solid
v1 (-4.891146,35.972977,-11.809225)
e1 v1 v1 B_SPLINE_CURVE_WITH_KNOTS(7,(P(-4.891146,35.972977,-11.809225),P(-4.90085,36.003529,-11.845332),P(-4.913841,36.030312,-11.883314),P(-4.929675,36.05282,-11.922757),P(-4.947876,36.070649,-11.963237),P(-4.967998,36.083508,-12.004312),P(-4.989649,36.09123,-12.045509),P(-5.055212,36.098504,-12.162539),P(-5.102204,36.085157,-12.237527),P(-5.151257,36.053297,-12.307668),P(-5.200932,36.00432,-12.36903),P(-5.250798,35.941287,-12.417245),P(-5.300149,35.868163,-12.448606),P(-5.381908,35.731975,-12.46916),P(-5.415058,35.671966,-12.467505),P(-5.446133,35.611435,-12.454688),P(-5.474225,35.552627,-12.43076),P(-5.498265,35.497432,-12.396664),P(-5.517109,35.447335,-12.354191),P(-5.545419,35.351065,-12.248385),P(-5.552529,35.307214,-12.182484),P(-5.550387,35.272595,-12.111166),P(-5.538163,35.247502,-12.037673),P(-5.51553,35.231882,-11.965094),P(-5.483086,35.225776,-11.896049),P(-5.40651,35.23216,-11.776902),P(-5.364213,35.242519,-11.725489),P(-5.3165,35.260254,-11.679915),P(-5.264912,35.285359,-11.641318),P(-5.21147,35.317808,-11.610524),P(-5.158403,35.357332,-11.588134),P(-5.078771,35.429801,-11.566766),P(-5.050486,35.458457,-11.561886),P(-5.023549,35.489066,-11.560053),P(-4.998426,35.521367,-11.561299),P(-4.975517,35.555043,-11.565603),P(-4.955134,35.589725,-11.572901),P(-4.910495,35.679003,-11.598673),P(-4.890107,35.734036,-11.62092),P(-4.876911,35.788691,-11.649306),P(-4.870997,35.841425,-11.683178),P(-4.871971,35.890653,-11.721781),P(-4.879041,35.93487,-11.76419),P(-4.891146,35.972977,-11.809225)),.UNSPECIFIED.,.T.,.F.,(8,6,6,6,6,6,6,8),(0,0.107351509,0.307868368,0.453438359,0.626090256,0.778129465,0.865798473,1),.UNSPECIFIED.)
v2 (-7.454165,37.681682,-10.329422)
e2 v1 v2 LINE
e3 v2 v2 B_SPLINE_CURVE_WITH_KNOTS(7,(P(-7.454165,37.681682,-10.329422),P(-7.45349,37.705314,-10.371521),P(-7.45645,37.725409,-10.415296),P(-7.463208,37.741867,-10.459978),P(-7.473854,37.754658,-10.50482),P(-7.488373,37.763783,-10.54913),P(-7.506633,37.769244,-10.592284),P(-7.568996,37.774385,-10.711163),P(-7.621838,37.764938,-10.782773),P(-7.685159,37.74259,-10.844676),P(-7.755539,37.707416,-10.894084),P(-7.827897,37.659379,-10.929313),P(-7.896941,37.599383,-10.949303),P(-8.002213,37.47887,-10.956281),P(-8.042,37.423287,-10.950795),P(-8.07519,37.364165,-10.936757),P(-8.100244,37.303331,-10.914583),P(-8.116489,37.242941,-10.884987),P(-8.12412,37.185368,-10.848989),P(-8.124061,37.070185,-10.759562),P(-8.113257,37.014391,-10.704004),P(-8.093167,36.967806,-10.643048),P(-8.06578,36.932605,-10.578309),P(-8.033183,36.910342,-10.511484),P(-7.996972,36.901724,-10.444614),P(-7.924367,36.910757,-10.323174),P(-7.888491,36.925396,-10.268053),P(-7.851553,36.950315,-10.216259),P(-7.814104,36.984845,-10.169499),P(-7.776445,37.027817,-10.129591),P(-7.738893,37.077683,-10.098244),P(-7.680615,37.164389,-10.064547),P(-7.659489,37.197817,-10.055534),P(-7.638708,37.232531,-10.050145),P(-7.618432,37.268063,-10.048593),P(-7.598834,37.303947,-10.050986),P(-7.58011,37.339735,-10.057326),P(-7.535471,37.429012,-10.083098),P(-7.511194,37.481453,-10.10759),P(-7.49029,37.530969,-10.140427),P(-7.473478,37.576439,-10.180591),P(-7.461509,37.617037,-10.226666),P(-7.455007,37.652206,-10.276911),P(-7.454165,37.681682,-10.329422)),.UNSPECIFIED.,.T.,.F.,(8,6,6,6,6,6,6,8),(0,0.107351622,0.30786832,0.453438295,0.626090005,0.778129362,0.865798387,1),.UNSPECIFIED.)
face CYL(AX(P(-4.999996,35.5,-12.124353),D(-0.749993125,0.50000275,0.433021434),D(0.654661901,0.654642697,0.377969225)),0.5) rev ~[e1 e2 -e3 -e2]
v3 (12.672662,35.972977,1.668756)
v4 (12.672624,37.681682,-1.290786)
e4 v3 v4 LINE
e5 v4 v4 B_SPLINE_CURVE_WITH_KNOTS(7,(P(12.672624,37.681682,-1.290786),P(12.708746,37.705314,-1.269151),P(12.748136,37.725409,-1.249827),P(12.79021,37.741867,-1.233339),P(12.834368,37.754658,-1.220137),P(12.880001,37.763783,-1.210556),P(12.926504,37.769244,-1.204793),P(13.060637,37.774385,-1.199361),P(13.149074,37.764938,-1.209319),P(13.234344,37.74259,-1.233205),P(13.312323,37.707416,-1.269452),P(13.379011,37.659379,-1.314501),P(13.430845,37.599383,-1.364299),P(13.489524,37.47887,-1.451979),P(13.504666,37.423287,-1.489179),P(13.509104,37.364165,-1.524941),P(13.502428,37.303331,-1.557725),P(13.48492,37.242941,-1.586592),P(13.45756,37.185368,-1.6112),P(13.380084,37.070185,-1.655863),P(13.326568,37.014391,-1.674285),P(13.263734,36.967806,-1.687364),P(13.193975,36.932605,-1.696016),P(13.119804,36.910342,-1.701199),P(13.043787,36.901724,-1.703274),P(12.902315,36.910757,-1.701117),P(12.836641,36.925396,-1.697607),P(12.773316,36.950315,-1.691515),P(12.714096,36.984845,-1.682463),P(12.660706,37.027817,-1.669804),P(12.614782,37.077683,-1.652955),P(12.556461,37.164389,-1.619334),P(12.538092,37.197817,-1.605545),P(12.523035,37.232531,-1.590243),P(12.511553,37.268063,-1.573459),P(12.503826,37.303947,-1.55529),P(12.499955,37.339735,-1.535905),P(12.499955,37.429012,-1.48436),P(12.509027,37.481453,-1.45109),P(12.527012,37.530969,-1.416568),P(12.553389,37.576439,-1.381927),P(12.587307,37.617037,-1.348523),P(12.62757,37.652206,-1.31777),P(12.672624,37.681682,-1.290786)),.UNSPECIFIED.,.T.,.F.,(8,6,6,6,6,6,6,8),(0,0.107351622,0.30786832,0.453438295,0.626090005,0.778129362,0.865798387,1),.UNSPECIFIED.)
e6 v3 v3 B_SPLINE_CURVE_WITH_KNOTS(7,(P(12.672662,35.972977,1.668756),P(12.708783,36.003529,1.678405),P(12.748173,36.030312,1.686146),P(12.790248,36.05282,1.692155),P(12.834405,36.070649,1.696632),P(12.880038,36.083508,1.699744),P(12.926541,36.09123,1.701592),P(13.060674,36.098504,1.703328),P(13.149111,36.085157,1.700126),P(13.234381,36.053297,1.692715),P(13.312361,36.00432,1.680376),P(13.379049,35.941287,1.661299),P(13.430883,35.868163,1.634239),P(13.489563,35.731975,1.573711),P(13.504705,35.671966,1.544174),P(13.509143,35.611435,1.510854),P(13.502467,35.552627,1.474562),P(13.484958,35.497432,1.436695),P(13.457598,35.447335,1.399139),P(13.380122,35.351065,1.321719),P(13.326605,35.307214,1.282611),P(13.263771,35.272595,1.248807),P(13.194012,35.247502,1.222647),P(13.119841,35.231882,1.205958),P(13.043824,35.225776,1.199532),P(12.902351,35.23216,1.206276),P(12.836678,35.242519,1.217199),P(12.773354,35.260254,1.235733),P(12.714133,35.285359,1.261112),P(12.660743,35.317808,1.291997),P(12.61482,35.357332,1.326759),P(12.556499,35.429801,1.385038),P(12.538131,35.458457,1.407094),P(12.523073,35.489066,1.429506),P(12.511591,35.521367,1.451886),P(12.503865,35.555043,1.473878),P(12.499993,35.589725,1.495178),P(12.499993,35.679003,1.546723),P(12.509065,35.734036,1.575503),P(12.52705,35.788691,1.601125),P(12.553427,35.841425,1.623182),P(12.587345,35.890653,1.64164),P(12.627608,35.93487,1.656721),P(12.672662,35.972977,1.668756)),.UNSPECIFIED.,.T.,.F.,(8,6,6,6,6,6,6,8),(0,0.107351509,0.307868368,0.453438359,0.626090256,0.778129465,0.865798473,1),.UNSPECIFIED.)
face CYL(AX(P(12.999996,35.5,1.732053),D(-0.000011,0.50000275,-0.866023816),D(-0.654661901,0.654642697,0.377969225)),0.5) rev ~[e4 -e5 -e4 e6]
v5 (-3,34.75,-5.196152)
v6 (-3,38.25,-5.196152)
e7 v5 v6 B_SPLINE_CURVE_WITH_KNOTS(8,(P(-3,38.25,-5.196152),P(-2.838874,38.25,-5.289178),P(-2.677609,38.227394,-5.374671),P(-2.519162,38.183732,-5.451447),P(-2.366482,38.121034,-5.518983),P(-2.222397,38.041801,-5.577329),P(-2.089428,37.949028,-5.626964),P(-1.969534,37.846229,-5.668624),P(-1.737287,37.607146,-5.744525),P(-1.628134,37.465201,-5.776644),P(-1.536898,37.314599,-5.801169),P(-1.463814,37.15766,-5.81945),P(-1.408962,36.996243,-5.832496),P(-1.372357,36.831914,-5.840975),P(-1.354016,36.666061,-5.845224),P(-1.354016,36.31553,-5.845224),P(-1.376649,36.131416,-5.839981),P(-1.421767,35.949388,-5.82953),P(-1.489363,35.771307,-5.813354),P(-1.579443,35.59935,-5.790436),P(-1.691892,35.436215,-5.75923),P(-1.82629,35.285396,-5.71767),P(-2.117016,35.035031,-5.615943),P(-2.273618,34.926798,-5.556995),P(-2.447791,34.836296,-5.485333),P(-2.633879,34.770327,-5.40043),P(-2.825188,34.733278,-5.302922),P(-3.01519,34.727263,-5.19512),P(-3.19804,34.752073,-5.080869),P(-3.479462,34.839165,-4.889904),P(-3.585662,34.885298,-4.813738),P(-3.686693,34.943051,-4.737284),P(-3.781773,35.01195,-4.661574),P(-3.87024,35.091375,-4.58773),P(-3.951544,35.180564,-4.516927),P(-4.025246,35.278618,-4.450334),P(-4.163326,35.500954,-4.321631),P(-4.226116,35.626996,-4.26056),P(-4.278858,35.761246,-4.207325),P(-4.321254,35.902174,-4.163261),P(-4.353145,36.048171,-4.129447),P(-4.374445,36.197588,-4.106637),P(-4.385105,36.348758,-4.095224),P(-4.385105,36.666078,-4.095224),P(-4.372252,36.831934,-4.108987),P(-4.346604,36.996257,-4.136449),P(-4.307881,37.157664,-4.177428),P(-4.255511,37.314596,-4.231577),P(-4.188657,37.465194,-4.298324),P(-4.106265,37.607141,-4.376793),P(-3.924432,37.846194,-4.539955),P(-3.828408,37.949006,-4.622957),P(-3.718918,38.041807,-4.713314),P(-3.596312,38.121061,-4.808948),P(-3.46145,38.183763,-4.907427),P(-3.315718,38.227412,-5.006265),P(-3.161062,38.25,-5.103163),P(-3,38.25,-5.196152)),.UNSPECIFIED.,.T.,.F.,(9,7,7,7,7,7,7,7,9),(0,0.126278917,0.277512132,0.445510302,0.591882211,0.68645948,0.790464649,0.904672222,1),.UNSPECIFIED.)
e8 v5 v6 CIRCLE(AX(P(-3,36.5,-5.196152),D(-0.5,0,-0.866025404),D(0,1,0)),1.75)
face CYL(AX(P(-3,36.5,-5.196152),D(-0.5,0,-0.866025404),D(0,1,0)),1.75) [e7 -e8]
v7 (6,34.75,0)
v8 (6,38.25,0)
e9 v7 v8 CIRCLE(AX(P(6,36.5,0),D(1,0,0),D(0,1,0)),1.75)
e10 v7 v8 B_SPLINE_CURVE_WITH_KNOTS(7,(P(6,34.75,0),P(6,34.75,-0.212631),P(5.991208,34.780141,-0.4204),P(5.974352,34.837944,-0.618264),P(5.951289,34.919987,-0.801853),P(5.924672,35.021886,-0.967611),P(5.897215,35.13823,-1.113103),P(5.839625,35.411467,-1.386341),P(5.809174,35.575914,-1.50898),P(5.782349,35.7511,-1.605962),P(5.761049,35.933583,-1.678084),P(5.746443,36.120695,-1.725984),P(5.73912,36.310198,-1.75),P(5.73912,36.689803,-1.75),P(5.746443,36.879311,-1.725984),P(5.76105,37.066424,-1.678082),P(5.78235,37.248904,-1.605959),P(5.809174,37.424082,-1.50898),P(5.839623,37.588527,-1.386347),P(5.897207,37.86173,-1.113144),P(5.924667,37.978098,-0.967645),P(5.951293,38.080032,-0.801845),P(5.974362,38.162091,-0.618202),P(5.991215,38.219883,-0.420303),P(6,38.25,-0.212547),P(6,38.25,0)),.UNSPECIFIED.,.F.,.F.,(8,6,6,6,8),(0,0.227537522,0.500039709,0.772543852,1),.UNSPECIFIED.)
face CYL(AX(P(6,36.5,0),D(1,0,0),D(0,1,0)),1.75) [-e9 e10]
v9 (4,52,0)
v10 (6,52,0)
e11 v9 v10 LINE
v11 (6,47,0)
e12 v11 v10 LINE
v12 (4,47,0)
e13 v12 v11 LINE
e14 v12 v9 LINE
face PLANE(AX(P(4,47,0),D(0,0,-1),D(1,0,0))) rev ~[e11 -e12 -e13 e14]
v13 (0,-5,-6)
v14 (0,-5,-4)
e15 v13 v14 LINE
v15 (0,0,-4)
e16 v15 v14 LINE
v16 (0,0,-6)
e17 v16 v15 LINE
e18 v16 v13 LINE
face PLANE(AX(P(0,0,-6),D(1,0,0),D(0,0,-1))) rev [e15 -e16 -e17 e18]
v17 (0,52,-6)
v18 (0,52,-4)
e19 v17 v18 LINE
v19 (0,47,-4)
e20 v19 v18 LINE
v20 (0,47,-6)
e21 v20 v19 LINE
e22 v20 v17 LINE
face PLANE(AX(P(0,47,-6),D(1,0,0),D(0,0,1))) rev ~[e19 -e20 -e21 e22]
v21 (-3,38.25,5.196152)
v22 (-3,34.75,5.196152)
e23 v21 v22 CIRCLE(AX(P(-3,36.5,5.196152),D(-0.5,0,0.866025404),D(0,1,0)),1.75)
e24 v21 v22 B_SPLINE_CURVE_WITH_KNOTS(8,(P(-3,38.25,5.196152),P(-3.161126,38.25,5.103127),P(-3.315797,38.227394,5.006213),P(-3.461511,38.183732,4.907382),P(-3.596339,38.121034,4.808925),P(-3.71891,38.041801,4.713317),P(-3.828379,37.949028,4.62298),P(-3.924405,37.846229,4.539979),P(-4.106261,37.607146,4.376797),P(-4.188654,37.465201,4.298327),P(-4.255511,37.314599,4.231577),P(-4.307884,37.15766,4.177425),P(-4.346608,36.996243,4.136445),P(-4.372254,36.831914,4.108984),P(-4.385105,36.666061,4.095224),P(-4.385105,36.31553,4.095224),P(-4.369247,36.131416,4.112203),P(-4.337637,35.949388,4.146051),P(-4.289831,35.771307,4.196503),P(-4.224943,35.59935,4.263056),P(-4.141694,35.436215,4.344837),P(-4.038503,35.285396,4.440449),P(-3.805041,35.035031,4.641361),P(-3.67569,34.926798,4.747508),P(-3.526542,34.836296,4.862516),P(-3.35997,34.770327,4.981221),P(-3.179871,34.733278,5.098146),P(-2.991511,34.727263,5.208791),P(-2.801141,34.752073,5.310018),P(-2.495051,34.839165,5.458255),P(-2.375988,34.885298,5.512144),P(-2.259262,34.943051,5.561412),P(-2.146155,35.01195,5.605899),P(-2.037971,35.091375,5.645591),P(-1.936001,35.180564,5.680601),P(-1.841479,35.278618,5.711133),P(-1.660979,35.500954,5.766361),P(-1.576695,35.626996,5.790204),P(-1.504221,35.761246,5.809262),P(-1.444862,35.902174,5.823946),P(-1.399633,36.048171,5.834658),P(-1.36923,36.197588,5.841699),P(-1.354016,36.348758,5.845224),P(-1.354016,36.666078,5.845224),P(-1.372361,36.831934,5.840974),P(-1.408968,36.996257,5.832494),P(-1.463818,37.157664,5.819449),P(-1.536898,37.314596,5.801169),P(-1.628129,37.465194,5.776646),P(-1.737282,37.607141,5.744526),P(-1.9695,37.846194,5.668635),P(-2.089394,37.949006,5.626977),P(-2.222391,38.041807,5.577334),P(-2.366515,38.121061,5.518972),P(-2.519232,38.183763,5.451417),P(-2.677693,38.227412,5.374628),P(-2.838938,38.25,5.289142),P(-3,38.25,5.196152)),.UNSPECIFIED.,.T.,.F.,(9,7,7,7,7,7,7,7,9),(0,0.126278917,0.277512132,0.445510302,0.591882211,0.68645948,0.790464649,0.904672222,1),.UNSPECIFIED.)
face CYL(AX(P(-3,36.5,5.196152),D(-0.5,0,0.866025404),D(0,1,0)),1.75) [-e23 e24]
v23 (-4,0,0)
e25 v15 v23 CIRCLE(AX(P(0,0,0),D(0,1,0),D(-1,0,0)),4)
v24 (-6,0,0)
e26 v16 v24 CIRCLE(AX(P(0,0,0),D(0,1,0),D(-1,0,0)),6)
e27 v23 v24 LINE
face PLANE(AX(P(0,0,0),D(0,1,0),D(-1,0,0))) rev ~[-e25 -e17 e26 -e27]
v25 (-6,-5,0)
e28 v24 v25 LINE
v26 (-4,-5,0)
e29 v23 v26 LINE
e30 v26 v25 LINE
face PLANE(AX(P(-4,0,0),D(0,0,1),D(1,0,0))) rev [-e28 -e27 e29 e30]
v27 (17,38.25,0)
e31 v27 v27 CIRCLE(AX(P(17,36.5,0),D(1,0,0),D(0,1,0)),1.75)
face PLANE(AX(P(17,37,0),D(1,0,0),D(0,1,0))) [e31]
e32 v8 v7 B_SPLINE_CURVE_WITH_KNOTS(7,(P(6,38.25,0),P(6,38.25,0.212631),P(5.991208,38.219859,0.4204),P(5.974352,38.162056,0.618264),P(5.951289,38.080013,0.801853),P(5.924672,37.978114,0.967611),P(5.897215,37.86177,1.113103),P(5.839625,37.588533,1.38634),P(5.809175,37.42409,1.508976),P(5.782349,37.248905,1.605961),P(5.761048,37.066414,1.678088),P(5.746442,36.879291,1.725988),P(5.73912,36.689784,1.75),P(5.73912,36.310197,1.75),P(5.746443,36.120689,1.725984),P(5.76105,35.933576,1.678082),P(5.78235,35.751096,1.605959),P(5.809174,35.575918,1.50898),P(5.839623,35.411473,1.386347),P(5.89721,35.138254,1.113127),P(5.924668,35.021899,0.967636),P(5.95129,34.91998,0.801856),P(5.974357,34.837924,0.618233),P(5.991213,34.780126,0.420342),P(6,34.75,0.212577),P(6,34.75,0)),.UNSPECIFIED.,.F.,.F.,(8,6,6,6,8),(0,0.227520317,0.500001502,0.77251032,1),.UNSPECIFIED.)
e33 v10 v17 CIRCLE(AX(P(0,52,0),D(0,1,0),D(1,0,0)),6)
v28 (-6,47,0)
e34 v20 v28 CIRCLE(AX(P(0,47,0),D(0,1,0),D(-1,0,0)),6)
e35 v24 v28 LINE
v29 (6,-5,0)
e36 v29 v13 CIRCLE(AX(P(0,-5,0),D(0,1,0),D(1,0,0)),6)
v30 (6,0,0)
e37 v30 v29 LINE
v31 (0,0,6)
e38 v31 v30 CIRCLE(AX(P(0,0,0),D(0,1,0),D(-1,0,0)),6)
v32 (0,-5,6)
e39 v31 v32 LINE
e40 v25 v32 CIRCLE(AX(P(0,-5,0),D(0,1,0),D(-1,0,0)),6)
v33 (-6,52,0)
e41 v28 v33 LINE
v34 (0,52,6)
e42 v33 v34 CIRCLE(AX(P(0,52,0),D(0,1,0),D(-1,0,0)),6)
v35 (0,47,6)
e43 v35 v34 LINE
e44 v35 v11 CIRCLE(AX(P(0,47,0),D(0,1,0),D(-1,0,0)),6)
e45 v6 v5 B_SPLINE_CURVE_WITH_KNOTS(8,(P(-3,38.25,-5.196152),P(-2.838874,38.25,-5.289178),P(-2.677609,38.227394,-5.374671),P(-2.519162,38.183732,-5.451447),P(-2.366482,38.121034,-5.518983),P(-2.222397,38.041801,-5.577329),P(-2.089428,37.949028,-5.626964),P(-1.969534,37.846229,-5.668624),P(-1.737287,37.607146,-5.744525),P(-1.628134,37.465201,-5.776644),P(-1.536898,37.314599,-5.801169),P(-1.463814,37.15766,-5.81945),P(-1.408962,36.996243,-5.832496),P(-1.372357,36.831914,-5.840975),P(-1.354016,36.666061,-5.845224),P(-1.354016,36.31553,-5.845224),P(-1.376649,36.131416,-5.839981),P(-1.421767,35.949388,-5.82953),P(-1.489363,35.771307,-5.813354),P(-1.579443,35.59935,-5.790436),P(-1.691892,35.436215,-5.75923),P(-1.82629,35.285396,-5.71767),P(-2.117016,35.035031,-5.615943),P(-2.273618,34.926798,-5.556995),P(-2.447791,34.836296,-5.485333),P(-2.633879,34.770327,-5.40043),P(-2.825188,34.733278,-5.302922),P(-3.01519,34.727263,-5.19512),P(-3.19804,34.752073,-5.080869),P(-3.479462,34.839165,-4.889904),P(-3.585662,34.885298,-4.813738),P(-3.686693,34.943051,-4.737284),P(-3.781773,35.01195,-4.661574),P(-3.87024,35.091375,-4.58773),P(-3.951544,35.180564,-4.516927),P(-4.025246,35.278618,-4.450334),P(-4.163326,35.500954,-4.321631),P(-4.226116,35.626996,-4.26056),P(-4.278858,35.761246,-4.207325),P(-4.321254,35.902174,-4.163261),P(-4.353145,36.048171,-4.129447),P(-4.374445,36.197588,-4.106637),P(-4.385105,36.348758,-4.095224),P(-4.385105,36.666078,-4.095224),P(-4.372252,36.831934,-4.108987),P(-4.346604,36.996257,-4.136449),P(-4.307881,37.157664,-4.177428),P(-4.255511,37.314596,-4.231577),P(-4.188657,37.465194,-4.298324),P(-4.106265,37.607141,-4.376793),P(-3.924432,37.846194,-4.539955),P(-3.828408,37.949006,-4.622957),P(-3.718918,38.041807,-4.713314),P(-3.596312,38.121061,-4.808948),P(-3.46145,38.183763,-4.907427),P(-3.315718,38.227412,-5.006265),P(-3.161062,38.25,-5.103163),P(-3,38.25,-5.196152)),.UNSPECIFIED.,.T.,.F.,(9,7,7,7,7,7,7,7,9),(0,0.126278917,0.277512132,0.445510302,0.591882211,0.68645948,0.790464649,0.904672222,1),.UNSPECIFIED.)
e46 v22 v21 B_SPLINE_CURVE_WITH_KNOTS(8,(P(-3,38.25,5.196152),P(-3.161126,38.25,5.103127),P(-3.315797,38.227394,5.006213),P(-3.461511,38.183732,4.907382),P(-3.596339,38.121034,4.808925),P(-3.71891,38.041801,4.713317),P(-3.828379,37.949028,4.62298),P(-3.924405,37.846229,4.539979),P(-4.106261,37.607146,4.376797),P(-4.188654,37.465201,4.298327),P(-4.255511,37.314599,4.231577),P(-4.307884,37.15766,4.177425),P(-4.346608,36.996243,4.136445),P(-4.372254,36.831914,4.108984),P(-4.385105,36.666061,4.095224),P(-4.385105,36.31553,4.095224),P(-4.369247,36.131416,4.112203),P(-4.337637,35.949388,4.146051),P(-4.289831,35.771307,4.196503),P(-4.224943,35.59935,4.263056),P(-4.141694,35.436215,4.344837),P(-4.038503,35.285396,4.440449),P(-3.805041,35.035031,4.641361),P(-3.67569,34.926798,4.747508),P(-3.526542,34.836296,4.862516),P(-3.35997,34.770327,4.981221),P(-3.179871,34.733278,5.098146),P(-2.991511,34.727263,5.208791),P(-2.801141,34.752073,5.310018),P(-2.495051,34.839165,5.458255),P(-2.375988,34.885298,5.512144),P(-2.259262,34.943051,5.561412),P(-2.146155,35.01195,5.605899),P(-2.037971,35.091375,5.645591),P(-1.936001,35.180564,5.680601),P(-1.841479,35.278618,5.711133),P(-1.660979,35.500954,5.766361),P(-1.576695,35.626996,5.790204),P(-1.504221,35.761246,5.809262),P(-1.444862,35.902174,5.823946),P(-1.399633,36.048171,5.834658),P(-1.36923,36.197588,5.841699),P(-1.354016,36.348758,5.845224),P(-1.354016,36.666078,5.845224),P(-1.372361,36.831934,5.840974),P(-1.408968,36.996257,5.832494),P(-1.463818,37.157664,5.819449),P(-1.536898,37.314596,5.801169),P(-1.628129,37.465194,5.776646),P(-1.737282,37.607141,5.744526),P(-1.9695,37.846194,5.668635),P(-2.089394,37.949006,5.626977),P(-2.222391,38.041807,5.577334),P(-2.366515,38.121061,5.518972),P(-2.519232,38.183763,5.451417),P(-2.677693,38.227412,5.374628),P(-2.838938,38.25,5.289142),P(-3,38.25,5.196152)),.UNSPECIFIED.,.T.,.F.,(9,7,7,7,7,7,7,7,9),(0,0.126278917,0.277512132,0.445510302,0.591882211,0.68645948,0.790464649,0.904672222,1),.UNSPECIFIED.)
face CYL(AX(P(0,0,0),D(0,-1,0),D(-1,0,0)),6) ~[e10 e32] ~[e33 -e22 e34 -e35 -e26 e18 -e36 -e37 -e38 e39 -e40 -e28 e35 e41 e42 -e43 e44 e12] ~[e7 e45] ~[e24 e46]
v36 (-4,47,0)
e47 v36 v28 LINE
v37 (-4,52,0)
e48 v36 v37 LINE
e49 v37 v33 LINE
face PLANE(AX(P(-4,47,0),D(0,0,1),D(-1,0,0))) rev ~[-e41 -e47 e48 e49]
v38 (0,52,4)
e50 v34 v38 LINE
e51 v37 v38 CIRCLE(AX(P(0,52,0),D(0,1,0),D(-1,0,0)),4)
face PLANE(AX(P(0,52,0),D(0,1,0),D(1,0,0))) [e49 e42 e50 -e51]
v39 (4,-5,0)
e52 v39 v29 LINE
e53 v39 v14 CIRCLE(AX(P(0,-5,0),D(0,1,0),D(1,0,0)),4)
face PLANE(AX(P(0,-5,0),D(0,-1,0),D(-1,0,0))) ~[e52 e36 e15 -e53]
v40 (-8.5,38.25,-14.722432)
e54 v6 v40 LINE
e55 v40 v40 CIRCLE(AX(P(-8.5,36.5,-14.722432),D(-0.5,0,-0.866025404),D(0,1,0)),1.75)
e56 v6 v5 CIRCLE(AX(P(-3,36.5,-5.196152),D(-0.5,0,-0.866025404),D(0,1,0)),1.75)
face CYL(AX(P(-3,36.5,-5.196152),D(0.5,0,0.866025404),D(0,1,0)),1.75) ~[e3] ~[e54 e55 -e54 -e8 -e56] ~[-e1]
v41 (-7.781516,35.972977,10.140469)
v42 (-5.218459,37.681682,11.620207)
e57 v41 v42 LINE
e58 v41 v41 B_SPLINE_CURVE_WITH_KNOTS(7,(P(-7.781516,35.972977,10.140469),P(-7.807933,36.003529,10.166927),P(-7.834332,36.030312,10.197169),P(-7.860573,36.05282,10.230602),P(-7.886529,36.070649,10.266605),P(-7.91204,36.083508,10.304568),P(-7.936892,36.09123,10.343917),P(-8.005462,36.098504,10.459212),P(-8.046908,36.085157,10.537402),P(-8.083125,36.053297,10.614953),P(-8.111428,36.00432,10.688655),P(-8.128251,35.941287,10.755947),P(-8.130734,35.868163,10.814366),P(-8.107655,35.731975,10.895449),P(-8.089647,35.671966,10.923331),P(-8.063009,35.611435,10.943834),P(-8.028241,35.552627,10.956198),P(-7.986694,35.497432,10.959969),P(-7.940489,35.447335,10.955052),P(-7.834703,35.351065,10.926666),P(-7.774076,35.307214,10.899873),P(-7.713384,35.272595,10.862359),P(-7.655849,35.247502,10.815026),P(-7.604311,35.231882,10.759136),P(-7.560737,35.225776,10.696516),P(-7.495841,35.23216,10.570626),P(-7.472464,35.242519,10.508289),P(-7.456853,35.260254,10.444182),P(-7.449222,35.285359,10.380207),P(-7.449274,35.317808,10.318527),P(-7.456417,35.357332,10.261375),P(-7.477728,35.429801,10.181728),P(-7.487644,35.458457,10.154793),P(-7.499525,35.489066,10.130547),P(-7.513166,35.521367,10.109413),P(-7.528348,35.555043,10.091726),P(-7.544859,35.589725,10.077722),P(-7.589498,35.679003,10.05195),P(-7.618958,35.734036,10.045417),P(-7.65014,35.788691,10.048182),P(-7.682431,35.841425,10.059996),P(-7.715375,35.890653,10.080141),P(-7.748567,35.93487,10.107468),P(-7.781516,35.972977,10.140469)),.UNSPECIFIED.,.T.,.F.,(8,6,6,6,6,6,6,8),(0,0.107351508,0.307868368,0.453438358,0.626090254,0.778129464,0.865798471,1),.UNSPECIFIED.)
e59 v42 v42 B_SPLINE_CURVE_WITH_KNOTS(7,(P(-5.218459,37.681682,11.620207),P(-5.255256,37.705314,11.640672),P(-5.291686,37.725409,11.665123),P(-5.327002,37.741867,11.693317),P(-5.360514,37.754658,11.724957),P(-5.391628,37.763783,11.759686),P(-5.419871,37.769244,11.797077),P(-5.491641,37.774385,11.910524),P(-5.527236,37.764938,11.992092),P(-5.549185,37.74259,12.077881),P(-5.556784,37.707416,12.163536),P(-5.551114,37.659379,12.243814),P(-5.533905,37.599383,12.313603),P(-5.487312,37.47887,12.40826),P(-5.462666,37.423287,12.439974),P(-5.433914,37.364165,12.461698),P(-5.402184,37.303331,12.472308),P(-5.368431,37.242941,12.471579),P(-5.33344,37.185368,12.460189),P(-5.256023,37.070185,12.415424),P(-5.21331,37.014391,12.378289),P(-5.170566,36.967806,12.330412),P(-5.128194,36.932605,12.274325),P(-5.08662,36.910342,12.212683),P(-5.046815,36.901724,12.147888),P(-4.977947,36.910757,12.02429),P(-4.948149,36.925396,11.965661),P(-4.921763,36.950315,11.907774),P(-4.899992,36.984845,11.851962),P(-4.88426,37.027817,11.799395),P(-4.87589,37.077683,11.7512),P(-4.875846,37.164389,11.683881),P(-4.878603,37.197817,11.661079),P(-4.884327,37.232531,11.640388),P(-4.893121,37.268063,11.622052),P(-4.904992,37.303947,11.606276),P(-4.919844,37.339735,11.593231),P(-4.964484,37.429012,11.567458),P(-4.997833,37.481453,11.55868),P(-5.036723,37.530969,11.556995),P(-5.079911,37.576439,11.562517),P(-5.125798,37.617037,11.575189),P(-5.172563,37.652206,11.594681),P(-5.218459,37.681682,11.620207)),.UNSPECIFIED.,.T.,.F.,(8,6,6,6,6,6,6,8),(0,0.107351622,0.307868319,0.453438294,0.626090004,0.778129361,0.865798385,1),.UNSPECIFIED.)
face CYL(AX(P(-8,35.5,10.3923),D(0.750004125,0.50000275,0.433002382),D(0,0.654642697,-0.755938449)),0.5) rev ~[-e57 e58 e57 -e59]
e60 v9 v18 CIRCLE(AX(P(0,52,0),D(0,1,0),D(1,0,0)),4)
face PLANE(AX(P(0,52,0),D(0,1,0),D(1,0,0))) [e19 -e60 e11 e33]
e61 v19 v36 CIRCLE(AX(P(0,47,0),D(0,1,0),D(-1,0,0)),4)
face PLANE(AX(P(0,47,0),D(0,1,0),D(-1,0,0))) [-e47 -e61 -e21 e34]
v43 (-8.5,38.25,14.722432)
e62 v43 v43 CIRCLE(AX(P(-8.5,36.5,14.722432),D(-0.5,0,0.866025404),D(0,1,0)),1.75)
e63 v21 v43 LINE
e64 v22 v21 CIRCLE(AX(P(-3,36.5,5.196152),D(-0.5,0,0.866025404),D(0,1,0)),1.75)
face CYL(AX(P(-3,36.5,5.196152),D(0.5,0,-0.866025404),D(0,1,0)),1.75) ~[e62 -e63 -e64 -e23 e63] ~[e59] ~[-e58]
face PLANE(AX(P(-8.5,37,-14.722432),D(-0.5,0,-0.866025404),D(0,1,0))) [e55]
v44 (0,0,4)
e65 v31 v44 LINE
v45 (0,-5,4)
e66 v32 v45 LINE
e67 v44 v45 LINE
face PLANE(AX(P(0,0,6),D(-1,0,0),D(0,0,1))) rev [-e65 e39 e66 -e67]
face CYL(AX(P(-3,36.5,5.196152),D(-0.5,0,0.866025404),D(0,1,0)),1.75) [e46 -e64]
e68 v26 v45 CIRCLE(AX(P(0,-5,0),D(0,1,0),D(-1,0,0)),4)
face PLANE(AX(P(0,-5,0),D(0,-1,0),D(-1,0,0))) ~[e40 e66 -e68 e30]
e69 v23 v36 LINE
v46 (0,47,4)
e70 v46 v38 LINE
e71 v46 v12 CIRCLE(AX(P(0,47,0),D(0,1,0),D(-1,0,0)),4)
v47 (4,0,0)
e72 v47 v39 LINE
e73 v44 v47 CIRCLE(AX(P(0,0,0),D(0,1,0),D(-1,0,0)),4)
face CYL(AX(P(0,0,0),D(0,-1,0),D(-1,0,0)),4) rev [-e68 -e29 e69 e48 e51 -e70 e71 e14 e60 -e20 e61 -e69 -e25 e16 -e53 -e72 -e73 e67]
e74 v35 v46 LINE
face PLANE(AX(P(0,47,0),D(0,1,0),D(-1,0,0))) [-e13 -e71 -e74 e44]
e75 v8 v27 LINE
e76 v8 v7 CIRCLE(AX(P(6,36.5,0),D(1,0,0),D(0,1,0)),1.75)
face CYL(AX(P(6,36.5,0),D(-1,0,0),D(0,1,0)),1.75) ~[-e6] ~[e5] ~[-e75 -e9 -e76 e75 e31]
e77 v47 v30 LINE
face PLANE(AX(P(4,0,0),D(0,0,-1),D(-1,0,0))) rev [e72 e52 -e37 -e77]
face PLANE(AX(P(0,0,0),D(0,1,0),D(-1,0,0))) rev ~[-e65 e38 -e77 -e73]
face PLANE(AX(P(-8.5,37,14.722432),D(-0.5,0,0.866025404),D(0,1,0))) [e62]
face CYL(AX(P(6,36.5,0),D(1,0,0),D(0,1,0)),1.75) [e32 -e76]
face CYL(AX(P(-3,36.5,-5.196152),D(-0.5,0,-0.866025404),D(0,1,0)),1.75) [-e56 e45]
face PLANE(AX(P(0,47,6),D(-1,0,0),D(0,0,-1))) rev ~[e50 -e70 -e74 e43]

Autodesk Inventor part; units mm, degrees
sketch "Sketch1" plane through (0, 0, 0) normal (0, 1, 0) x (-1, 0, 0)
  circle A0 centre (0, 0) radius 4
  circle A1 centre (0, 0) radius 6
  dimension "d0" = 8
  dimension "d1" = 12
extrude "Extrusion1" add sketch "Sketch1" along normal blind 47
sketch "Sketch2" plane through (0, 47, 0) normal (0, 1, 0) x (1, 0, 0)
  circle A0 centre (0, 0) radius 6 construction
  arc A1 (-6, 0) -> (0, -6) centre (0, 0) ccw
  circle A2 centre (0, 0) radius 4 construction
  arc A3 (-4, 0) -> (0, -4) centre (0, 0) ccw
  line L0 (0, -6) -> (0, -4)
  line L1 (-4, 0) -> (-6, 0)
  line L2 (4, 0) -> (6, 0)
  arc A4 (6, 0) -> (0, 6) centre (0, 0) ccw
  arc A5 (4, 0) -> (0, 4) centre (0, 0) ccw
  line L3 (0, 6) -> (0, 4)
  dimension "d6" = 360
extrude "Extrusion2" add sketch "Sketch2" along normal blind 5
ref_plane "Work Plane5" through (0, 37, 0) normal (0, -1, 0) x (1, 0, 0)
ref_plane "Work Plane1" through (0, 23.5, 0) normal (0, 1, 0) x (1, 0, 0)
mirror "Mirror1" about plane through (0, 23.5, 0) normal (0, 1, 0) of "Extrusion2"
sketch "Sketch3" plane through (0, 37, 0) normal (0, -1, 0) x (1, 0, 0)
  arc A0 (-6, 0) -> (0, -6) centre (0, 0) ccw construction
  line L0 (0, -6) -> (0, -4) construction
  arc A1 (-4, 0) -> (0, -4) centre (0, 0) ccw construction
  line L1 (-4, 0) -> (-6, 0) construction
  line L2 (-6, 0) -> (-4, 0) construction
  arc A2 (0, 4) -> (-4, 0) centre (0, 0) ccw construction
  line L3 (0, 4) -> (0, 6) construction
  arc A3 (0, 6) -> (-6, 0) centre (0, 0) ccw construction
  arc A4 (4, 0) -> (0, 4) centre (0, 0) ccw construction
  line L4 (4, 0) -> (6, 0) construction
  arc A5 (6, 0) -> (0, 6) centre (0, 0) ccw construction
  line L5 (0, 6) -> (0, 4) construction
  line L6 (0, -4) -> (0, -6) construction
  arc A6 (0, -6) -> (6, 0) centre (0, 0) ccw construction
  line L7 (6, 0) -> (4, 0) construction
  arc A7 (0, -4) -> (4, 0) centre (0, 0) ccw construction
  line L8 (6, 0) -> (11.7956, 0) construction
  line L9 (0, 0) -> (-6.4031, -11.0905) construction
  line L10 (0, 0) -> (-6.364, 11.0227) construction
  dimension "d10" = 120
  dimension "d11" = 120
ref_plane "Work Plane2" through (6, 37, 0) normal (1, 0, 0) x (0, 1, 0)
sketch "Sketch4" plane through (6, 37, 0) normal (1, 0, 0) x (0, 1, 0)
  line L0 (-42, -6) -> (-42, 0) construction
  circle A0 centre (-0.5, 0) radius 1.75
  point P0 (-37, 0)
  dimension "d12" = 41.5
  dimension "d38" = 3.5
extrude "Extrusion3" add sketch "Sketch4" along normal blind 11 and the other way blind 0.5
pattern_circular "Circular Pattern1" count 3 over 360 about axis through (0, 0, 0) along (0, 1, 0) of "Extrusion3"
thread "Thread1" size "M3.5x0.6" class "6g" standard "ANSI Metric M Profile" length 10
thread "Thread2" size "M3.5x0.6" class "6g" standard "ANSI Metric M Profile" length 10
thread "Thread3" size "M3.5x0.6" class "6g" standard "ANSI Metric M Profile" length 10
ref_plane "Work Plane3" through (-6.5, 36.5, 11.2583) normal (-0.5, 0, 0.866) x (0.866, 0, 0.5)
sketch "Sketch6" plane through (-6.5, 36.5, 11.2583) normal (-0.5, 0, 0.866) x (0.866, 0, 0.5)
  line L0 (0, 0) -> (-3.1225, -1.8028) construction
  line L1 (0, 0) -> (0, 3.8525) construction
  point P0 (0, -36.5)
  point P1 (-1.7321, -1)
  dimension "d27" = 120
ref_plane "Work Plane4" through (-8, 35.5, 10.3923) normal (-0.75, -0.5, -0.433) x (0.5547, -0.8321, 0)
sketch "Sketch7" plane through (-8, 35.5, 10.3923) normal (-0.75, -0.5, -0.433) x (0.5547, -0.8321, 0)
  point P0 (33.9754, -3.723)
  point P1 (0, 0)
hole "Hole1" at (-8, 35.5, 10.3923) direction (0.75, 0.5, 0.433) diameter 1 end through all
pattern_circular "Circular Pattern2" count 3 over 360 about axis through (0, 0, 0) along (0, 1, 0) of "Hole1"
properties part number "ObererRührerHalter"
